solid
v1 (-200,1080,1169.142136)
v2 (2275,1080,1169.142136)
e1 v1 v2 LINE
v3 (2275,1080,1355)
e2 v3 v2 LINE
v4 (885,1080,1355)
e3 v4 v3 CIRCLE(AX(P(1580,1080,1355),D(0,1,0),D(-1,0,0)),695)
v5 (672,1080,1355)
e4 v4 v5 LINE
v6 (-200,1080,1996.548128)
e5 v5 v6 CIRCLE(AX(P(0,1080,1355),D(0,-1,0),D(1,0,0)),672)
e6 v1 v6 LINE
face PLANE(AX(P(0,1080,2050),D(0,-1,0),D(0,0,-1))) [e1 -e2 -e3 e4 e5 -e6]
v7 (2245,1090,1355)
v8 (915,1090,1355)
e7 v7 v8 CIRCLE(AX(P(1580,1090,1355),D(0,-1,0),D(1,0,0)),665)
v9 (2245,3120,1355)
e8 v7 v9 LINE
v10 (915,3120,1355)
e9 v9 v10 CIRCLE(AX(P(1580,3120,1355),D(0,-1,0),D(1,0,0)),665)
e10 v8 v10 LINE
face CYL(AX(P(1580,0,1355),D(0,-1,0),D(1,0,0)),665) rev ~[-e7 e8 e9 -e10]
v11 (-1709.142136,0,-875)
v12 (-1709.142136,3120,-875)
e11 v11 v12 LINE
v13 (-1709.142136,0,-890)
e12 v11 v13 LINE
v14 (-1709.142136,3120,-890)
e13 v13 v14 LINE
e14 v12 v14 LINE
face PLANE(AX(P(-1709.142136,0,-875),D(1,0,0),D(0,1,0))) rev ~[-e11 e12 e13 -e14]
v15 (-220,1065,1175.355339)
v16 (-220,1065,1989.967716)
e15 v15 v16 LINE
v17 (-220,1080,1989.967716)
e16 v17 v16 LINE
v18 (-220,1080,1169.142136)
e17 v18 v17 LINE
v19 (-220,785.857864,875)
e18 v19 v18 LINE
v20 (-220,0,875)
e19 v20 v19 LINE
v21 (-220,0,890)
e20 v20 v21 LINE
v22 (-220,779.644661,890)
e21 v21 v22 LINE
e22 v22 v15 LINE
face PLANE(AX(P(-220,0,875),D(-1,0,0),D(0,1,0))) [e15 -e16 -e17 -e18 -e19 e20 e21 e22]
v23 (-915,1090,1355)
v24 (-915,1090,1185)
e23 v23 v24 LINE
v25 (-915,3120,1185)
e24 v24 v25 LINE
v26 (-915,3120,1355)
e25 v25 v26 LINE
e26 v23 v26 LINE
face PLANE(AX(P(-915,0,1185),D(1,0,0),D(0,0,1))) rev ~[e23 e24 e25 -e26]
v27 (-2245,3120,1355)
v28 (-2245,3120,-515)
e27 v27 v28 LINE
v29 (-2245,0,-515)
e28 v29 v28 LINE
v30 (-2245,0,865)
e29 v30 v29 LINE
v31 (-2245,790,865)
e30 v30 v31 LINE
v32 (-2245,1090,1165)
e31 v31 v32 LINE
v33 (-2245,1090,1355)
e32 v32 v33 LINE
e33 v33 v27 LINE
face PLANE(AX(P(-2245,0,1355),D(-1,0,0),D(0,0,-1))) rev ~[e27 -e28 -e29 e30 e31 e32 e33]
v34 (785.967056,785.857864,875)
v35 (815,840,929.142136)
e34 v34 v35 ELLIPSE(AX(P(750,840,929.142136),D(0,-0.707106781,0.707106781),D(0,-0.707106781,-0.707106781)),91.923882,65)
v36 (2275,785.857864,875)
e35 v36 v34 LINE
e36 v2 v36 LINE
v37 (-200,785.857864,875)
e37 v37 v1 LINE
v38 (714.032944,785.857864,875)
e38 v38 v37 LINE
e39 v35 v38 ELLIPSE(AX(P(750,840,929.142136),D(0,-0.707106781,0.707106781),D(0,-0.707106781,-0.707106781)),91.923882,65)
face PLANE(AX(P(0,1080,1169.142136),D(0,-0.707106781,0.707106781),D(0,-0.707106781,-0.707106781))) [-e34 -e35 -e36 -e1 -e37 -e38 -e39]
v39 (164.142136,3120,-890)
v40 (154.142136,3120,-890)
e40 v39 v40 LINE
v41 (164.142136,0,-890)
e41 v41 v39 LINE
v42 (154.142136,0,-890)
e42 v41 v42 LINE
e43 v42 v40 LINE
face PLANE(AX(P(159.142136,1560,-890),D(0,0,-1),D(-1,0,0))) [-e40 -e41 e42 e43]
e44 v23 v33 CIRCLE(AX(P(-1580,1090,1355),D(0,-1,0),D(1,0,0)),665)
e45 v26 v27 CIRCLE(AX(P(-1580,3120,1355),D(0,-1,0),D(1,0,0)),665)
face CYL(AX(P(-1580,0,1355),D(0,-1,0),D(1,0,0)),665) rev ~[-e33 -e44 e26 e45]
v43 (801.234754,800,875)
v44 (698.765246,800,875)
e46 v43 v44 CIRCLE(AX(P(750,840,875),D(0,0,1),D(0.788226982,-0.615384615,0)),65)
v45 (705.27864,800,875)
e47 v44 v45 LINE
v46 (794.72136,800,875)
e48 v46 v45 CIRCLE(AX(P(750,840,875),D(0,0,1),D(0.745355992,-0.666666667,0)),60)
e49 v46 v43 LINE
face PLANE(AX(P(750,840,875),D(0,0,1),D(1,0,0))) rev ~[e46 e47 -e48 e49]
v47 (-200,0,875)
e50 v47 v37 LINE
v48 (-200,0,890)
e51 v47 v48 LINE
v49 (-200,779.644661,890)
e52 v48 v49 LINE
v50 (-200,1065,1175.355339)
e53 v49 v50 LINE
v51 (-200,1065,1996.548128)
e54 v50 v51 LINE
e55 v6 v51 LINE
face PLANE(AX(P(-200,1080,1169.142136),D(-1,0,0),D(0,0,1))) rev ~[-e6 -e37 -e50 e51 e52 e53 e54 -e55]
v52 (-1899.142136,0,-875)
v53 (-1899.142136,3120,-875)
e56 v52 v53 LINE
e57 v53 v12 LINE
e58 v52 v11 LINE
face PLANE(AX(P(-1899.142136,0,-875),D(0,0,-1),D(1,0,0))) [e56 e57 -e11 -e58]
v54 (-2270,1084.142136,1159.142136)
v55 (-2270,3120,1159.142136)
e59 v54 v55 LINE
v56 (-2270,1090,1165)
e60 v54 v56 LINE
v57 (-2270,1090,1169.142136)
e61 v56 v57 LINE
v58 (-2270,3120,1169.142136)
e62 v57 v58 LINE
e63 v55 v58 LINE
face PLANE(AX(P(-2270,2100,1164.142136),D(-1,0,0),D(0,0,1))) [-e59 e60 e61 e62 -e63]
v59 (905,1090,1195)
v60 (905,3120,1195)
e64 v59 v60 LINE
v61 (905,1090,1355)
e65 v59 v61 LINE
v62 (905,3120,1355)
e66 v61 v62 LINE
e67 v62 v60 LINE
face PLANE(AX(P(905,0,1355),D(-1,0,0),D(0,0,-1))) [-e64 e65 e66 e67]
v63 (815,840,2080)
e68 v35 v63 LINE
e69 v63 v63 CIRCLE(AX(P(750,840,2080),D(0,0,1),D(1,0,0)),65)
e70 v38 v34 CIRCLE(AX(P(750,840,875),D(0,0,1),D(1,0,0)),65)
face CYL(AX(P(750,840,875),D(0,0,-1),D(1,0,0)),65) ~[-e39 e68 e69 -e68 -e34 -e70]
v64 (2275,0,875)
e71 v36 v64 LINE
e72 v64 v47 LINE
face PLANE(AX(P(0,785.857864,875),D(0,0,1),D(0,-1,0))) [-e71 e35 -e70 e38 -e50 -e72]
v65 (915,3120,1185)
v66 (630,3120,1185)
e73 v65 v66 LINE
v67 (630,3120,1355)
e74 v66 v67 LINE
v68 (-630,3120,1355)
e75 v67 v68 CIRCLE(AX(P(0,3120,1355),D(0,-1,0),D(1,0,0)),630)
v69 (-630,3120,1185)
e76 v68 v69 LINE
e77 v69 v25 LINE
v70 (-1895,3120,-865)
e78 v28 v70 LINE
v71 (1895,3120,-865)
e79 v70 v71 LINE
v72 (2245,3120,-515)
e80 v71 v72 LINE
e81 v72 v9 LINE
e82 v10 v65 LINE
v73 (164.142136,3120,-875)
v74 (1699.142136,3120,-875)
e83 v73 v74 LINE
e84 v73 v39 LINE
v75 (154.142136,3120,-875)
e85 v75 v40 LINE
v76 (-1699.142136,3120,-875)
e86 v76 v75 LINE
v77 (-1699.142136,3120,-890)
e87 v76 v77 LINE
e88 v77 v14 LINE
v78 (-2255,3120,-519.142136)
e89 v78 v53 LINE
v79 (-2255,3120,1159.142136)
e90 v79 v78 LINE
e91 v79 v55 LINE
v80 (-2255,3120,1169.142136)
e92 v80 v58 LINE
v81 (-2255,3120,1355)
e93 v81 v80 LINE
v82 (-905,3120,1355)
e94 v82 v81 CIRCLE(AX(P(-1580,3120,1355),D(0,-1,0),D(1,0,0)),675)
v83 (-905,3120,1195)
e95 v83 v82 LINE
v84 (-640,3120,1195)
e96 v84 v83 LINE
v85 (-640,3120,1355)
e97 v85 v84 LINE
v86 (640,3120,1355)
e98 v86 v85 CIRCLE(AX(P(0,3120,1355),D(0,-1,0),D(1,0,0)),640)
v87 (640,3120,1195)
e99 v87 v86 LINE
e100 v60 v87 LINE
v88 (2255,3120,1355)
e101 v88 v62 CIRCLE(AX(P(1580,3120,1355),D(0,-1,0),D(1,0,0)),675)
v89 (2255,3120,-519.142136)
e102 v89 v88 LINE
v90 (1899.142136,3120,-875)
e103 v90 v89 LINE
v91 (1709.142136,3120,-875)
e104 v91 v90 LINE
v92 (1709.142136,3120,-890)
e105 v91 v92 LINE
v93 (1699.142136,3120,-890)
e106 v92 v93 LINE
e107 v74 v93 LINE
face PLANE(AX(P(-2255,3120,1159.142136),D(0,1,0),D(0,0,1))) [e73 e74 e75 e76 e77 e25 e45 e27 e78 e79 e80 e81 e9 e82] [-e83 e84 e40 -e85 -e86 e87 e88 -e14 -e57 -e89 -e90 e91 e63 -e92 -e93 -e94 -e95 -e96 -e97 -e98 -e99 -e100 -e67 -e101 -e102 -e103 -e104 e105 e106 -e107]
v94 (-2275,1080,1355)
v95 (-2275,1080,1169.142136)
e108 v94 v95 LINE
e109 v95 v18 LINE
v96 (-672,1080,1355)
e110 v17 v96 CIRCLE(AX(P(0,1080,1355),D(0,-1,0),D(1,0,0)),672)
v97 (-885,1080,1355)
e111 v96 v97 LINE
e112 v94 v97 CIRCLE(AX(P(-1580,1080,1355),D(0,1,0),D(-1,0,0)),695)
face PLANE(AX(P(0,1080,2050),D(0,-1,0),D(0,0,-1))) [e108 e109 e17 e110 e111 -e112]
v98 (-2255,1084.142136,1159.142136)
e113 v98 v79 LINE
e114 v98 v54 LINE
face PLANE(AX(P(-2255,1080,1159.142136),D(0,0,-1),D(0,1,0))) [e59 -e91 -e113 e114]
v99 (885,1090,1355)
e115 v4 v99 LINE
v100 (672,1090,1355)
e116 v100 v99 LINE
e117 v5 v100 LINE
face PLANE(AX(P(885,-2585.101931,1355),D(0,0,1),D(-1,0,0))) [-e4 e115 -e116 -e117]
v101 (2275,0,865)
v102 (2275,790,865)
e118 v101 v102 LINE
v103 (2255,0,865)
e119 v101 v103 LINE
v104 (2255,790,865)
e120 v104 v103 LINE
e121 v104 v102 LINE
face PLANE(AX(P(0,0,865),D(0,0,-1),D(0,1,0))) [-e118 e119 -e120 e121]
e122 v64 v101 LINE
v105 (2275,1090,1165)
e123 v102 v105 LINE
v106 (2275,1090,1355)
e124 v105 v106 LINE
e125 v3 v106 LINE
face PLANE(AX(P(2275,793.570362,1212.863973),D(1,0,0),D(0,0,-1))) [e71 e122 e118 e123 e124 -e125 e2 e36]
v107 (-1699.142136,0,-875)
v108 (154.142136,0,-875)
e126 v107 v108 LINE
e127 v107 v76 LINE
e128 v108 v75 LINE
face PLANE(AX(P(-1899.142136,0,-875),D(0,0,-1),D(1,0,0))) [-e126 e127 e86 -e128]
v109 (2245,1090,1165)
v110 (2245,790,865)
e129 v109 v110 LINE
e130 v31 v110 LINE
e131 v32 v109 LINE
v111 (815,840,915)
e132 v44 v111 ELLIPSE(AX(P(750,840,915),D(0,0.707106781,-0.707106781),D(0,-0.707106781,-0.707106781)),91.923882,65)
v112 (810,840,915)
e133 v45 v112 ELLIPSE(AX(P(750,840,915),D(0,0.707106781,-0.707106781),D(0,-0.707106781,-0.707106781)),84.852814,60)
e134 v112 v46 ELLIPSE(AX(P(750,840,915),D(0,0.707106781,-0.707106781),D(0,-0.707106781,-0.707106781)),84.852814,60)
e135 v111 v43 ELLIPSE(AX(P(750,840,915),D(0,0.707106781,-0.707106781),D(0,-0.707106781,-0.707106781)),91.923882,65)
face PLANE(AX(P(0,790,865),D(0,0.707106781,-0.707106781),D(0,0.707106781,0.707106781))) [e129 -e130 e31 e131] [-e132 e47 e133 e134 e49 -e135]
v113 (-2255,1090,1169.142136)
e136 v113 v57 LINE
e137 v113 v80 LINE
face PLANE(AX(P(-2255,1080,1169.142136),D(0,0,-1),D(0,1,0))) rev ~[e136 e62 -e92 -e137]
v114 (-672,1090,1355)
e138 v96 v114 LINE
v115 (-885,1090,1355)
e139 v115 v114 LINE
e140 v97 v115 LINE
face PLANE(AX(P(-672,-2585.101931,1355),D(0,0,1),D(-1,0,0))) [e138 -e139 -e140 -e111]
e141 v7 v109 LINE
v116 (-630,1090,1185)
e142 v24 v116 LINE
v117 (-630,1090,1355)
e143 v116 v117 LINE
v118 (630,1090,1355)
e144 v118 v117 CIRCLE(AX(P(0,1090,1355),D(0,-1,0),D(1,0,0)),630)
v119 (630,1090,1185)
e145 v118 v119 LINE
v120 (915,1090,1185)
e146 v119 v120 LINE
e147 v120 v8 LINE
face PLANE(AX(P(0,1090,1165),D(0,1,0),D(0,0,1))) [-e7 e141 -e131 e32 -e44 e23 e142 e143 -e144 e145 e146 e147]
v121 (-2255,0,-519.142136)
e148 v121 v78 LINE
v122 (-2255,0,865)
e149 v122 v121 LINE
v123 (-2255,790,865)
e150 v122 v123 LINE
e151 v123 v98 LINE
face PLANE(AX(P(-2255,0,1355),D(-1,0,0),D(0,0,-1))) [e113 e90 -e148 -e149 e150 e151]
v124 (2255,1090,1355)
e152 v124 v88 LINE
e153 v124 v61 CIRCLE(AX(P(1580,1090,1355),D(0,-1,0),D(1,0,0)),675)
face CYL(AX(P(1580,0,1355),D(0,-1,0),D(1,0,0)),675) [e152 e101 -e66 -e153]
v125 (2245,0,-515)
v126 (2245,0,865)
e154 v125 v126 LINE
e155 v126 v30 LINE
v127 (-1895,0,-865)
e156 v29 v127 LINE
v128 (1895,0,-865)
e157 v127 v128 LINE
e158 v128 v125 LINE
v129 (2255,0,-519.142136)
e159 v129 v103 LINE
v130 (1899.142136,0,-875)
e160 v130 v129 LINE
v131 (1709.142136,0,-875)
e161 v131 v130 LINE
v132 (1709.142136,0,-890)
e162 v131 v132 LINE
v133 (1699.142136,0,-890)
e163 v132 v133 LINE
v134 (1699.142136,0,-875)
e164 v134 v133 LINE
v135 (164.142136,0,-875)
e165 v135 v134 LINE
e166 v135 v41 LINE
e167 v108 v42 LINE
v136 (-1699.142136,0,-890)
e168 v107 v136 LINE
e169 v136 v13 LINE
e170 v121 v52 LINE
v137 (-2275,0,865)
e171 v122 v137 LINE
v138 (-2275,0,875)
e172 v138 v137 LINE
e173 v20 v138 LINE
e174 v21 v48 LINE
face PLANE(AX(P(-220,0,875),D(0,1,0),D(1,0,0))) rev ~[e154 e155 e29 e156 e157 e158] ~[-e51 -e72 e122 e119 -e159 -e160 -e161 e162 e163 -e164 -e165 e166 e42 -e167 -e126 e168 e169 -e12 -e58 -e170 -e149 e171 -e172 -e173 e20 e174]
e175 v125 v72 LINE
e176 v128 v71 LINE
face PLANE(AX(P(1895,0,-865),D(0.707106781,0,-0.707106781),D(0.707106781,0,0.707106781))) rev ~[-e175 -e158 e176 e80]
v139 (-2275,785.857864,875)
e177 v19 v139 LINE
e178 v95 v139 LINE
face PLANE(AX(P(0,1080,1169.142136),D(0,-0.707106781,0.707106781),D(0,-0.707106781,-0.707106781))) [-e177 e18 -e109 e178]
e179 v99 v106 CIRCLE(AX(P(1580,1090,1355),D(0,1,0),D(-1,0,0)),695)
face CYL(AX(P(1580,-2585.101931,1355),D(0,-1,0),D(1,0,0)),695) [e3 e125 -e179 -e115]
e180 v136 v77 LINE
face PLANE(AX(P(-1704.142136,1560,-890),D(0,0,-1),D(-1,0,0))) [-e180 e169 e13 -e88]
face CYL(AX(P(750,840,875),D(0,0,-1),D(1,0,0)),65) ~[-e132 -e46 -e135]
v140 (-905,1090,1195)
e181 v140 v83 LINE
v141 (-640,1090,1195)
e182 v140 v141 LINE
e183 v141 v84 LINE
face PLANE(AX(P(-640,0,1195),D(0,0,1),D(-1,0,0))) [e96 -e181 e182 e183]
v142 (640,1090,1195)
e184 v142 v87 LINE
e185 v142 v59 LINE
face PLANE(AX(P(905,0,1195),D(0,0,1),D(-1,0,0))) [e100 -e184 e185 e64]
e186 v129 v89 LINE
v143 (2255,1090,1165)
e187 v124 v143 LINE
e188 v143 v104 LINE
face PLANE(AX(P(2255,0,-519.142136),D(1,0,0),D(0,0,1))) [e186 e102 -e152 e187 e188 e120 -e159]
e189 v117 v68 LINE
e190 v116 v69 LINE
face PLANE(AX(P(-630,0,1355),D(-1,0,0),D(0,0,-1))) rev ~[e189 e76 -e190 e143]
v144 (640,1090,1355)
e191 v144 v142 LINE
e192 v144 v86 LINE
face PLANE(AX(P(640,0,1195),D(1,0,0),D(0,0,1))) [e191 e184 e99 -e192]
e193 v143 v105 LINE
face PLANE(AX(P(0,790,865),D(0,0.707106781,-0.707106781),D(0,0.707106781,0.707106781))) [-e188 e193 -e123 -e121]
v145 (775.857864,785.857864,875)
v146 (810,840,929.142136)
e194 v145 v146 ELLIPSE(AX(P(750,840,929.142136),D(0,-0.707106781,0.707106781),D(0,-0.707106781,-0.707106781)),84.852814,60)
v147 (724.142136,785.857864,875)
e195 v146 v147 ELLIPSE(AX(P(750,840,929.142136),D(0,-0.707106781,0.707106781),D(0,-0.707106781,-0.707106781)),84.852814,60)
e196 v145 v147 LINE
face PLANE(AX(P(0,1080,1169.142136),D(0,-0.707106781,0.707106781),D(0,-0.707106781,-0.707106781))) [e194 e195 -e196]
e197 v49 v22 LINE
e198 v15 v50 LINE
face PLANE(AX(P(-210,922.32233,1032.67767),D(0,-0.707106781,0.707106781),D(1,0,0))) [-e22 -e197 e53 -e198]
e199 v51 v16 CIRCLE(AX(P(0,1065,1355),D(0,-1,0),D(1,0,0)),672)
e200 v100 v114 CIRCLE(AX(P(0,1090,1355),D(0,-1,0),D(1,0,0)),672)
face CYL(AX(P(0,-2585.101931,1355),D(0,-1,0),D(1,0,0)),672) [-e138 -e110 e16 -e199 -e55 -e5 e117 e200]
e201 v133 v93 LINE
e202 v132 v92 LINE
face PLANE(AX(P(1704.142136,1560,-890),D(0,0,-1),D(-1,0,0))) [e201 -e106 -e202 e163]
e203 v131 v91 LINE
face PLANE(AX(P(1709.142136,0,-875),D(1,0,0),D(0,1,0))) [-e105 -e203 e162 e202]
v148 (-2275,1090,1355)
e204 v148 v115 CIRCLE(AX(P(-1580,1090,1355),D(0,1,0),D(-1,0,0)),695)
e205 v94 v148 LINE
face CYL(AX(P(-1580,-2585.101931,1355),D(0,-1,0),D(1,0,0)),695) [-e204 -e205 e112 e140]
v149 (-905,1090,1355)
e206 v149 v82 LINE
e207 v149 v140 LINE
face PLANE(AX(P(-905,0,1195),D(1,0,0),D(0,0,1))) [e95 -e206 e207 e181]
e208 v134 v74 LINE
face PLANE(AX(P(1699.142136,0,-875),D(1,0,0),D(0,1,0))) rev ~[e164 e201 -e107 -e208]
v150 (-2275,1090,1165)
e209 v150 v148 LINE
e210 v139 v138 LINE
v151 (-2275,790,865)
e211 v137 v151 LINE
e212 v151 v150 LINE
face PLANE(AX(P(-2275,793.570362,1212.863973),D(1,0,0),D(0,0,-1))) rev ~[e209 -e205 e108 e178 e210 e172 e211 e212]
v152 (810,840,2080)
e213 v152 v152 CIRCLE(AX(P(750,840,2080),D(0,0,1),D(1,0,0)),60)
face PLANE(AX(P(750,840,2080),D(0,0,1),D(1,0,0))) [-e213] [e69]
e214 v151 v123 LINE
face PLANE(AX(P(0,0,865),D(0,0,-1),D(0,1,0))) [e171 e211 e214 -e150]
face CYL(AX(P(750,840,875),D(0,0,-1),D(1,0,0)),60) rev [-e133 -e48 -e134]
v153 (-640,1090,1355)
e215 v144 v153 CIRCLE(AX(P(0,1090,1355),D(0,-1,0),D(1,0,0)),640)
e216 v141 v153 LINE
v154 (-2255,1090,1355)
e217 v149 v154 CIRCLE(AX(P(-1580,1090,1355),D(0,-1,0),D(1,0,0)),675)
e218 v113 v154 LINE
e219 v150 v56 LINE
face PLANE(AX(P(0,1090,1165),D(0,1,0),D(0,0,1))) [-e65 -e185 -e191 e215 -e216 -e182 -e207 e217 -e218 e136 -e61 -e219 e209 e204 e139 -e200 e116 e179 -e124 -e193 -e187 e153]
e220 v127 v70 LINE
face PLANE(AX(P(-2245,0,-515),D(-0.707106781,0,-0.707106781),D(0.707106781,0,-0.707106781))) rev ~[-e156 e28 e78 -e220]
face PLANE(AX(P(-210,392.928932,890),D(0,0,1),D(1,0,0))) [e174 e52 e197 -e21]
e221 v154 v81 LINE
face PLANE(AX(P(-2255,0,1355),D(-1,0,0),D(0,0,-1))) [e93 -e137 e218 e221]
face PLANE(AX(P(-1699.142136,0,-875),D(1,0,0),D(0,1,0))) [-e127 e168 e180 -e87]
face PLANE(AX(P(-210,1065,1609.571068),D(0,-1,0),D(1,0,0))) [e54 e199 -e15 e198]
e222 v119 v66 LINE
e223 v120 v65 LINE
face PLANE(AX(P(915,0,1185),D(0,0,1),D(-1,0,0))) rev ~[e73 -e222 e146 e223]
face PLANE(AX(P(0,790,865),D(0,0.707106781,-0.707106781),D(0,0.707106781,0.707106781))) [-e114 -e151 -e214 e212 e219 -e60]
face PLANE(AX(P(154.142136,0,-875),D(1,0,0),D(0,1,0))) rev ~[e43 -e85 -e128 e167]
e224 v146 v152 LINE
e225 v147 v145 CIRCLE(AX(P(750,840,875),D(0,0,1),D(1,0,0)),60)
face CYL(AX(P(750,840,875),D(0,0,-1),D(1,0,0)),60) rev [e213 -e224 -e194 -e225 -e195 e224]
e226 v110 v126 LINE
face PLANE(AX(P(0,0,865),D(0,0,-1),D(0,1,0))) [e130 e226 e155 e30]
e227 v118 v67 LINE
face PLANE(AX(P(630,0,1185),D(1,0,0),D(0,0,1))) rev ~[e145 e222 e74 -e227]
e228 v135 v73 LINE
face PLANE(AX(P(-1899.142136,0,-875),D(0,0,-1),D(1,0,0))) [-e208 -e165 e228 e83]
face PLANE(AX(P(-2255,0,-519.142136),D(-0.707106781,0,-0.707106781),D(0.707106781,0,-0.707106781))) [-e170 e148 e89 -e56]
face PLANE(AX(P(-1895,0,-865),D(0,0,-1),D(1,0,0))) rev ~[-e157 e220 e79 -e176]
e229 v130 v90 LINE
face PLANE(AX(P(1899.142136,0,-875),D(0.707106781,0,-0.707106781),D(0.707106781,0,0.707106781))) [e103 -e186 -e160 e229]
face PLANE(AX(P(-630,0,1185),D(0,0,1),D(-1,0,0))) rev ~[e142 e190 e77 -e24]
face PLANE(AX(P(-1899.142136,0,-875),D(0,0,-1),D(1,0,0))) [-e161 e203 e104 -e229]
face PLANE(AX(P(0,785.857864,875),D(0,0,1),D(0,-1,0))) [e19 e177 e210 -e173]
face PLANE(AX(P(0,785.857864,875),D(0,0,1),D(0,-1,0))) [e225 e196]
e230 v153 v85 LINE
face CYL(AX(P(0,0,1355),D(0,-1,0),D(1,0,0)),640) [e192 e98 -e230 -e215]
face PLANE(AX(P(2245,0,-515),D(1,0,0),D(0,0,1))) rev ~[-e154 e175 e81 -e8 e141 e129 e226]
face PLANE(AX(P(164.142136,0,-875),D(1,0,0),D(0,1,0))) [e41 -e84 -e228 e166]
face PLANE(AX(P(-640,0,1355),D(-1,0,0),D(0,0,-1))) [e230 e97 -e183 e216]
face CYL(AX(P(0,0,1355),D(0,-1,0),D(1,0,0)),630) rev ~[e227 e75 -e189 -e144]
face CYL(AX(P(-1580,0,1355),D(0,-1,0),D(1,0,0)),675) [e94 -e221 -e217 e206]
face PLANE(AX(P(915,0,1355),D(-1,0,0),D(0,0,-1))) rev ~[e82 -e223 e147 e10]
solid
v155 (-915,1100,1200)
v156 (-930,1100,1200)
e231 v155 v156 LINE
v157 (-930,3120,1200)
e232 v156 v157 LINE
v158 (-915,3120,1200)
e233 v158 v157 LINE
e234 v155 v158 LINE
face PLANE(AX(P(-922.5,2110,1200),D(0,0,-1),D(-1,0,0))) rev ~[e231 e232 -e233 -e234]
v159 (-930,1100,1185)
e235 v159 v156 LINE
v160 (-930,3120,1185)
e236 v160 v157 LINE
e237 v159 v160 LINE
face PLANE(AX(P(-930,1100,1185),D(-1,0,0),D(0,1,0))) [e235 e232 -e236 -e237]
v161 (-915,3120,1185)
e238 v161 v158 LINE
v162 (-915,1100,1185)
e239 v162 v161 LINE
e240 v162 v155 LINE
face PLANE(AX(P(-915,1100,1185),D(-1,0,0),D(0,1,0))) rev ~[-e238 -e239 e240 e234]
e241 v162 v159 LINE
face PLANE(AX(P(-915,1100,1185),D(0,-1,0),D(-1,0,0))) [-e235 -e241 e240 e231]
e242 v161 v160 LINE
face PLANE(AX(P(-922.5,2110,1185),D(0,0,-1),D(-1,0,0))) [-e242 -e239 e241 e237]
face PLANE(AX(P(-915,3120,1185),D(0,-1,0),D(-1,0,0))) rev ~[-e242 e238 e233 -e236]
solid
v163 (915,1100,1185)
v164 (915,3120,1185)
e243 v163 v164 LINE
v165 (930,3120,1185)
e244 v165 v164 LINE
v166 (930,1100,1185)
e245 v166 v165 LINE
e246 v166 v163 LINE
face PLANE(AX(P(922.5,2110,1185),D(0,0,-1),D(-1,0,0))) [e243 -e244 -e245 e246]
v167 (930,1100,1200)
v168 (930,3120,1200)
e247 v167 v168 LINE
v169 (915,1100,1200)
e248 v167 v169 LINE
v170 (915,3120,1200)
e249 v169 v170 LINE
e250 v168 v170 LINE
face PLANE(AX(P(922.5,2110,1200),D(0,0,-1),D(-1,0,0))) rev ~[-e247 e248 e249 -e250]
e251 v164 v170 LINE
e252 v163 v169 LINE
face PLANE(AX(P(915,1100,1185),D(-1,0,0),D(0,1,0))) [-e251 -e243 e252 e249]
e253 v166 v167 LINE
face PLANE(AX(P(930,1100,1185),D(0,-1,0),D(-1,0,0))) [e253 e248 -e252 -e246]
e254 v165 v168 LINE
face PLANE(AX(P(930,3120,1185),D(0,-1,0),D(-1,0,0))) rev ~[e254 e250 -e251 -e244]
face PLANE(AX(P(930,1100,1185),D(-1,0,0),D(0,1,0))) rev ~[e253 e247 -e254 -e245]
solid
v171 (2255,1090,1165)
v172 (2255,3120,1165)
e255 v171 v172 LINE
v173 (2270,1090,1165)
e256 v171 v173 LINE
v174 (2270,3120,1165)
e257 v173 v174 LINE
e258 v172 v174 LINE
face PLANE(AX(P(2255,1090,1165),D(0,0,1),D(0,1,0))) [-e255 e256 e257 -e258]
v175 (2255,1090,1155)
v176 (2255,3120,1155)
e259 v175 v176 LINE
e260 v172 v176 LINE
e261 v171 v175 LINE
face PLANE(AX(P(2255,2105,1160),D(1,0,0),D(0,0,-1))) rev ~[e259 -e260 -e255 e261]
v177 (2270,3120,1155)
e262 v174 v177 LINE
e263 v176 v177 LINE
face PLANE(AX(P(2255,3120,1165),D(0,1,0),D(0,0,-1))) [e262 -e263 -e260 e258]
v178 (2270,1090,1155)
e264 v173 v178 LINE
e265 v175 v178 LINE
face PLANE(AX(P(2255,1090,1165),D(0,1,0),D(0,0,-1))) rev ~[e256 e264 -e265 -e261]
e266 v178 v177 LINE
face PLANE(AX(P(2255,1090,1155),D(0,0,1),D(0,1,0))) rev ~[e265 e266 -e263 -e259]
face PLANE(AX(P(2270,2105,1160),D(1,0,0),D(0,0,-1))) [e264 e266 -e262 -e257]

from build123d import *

# Parameters (mm, degrees)
EXTRUDE_THIN1_DEPTH     = 3120
CUT_EXTRUDE1_DEPTH      = 4353.048368297
CUT_EXTRUDE1_DEPTH_BACK = 4353.048368297
BOSS_EXTRUDE2_DEPTH     = 2275
SKETCH6_W               = 20
SKETCH6_H               = 415.979797465
BOSS_EXTRUDE4_DEPTH     = 15
SKETCH5_W               = 20
SKETCH5_H               = 785.857864376
BOSS_EXTRUDE5_DEPTH     = 15
SKETCH7_W               = 20
SKETCH7_H               = 880.857864376
BOSS_EXTRUDE6_DEPTH     = 15
SKETCH8_W               = 15
SKETCH8_H               = 2020
BOSS_EXTRUDE7_DEPTH     = 15
SKETCH9_W               = 15
SKETCH9_H               = 2020
BOSS_EXTRUDE8_DEPTH     = 15
SKETCH10_W              = 10
SKETCH10_H              = 2030
BOSS_EXTRUDE15_DEPTH    = 15
SKETCH11_W              = 10
SKETCH11_H              = 2040
BOSS_EXTRUDE16_DEPTH    = 15
SKETCH12_W              = 10
SKETCH12_H              = 3120
BOSS_EXTRUDE17_DEPTH    = 15
CUT_EXTRUDE2_DEPTH      = 3675.101931085
CUT_EXTRUDE2_DEPTH_BACK = 3675.101931085
SKETCH14_R              = 65
SKETCH14_R_2            = 60
EXTRUDE_THIN2_DEPTH     = 1205


with BuildPart() as part:
    # Sketch1 → Extrude-Thin1 (new body)
    with BuildSketch(Plane(origin=(0, 0, 0), x_dir=(1, 0, 0), z_dir=(0, 1, 0))):
        with BuildLine():
            Line((905, -1355), (905, -1195))
            Line((905, -1195), (640, -1195))
            Line((640, -1195), (640, -1355))
            ThreePointArc((640, -1355), (0, -1995), (-640, -1355))
            Line((-640, -1355), (-640, -1195))
            Line((-640, -1195), (-905, -1195))
            Line((-905, -1195), (-905, -1355))
            ThreePointArc((-905, -1355), (-1580, -2030), (-2255, -1355))
            Line((-2255, -1355), (-2255, 519.142135624))
            Line((-2255, 519.142135624), (-1899.142135624, 875))
            Line((-1899.142135624, 875), (1899.142135624, 875))
            Line((1899.142135624, 875), (2255, 519.142135624))
            Line((2255, 519.142135624), (2255, -1355))
            ThreePointArc((2255, -1355), (1580, -2030), (905, -1355))
        make_face()
        with BuildLine():
            Line((915, -1355), (915, -1185))
            Line((915, -1185), (630, -1185))
            Line((630, -1185), (630, -1355))
            ThreePointArc((630, -1355), (0, -1985), (-630, -1355))
            Line((-630, -1355), (-630, -1185))
            Line((-630, -1185), (-915, -1185))
            Line((-915, -1185), (-915, -1355))
            ThreePointArc((-915, -1355), (-1580, -2020), (-2245, -1355))
            Line((-2245, -1355), (-2245, 515))
            Line((-2245, 515), (-1895, 865))
            Line((-1895, 865), (1895, 865))
            Line((1895, 865), (2245, 515))
            Line((2245, 515), (2245, -1355))
            ThreePointArc((2245, -1355), (1580, -2020), (915, -1355))
        make_face(mode=Mode.SUBTRACT)
    extrude(amount=EXTRUDE_THIN1_DEPTH)

    # Sketch2 → Cut-Extrude1 (cut, two sides: drawn at the far end of the back side and taken through both)
    with BuildSketch(Plane(origin=(0, 0, 0), x_dir=(0, 0, -1), z_dir=(1, 0, 0)).offset(-CUT_EXTRUDE1_DEPTH_BACK)):
        Polygon((-865, 0), (-865, 790), (-1165, 1090), (-2050, 1090), (-2101.676974478, 1090), (-2101.676974478, -15.106412635), (-865, -15.106412635), align=None)
    extrude(amount=CUT_EXTRUDE1_DEPTH + CUT_EXTRUDE1_DEPTH_BACK, mode=Mode.SUBTRACT)

    # Sketch3 → Boss-Extrude2 (add, symmetric)
    with BuildSketch(Plane(origin=(0, 0, 0), x_dir=(0, 0, -1), z_dir=(1, 0, 0))):
        Polygon((-865, 0), (-865, 790), (-1165, 1090), (-2050, 1090), (-2050, 1080), (-1169.142135624, 1080), (-875, 785.857864376), (-875, 0), align=None)
    extrude(amount=BOSS_EXTRUDE2_DEPTH, both=True)

    # Sketch6 → Boss-Extrude4 (add)
    with BuildSketch(Plane(origin=(0, -44.571067812, 44.571067812), x_dir=(1, 0, 0), z_dir=(0, -0.7071067811865475, 0.7071067811865477))):
        with Locations((-210, 1382.39375722)):
            Rectangle(SKETCH6_W, SKETCH6_H)
    extrude(amount=BOSS_EXTRUDE4_DEPTH)

    # Sketch5 → Boss-Extrude5 (add)
    with BuildSketch(Plane.XY.offset(875)):
        with Locations((-210, 392.928932188)):
            Rectangle(SKETCH5_W, SKETCH5_H)
    extrude(amount=BOSS_EXTRUDE5_DEPTH)

    # Sketch7 → Boss-Extrude6 (add)
    with BuildSketch(Plane.XZ.offset(-1080)):
        with Locations((-210, 1609.571067812)):
            Rectangle(SKETCH7_W, SKETCH7_H)
    extrude(amount=BOSS_EXTRUDE6_DEPTH)

    # Sketch11 → Boss-Extrude16 (add)
    with BuildSketch(Plane.ZY.offset(2255)):
        with Locations((1164.142135624, 2100)):
            Rectangle(SKETCH11_W, SKETCH11_H)
    extrude(amount=BOSS_EXTRUDE16_DEPTH)

    # Sketch12 → Boss-Extrude17 (add)
    with BuildSketch(Plane(origin=(0, 0, -875), x_dir=(-1, 0, 0), z_dir=(0, 0, -1))):
        with Locations((-1704.142135624, 1560)):
            Rectangle(SKETCH12_W, SKETCH12_H)
        with Locations((1704.142135624, 1560)):
            Rectangle(SKETCH12_W, SKETCH12_H)
        with Locations((-159.142135624, 1560)):
            Rectangle(SKETCH12_W, SKETCH12_H)
    extrude(amount=BOSS_EXTRUDE17_DEPTH)

    # Sketch13 → Cut-Extrude2 (cut, two sides: drawn at the far end of the back side and taken through both)
    with BuildSketch(Plane(origin=(0, 1090, 0), x_dir=(1, 0, 0), z_dir=(0, 1, 0)).offset(-CUT_EXTRUDE2_DEPTH_BACK)):
        with BuildLine():
            Line((-2275, -1355), (-2439.252961853, -1355))
            Line((-2439.252961853, -1355), (-2439.252961853, -2187.959139027))
            Line((-2439.252961853, -2187.959139027), (2586.364187852, -2187.959139027))
            Line((2586.364187852, -2187.959139027), (2586.364187852, -1355))
            Line((2586.364187852, -1355), (2275, -1355))
            ThreePointArc((2275, -1355), (1580, -2050), (885, -1355))
            Line((885, -1355), (672, -1355))
            ThreePointArc((672, -1355), (0, -2027), (-672, -1355))
            Line((-672, -1355), (-885, -1355))
            ThreePointArc((-885, -1355), (-1580, -2050), (-2275, -1355))
        make_face()
    extrude(amount=CUT_EXTRUDE2_DEPTH + CUT_EXTRUDE2_DEPTH_BACK, mode=Mode.SUBTRACT)

    # Sketch14 → Extrude-Thin2 (add)
    with BuildSketch(Plane.XY.offset(875)):
        with Locations((750, 840)):
            Circle(SKETCH14_R)
        with Locations((750, 840)):
            Circle(SKETCH14_R_2, mode=Mode.SUBTRACT)
    extrude(amount=EXTRUDE_THIN2_DEPTH)


with BuildPart() as body_2:
    # Sketch8 → Boss-Extrude7 (new body)
    with BuildSketch(Plane(origin=(0, 0, 1185), x_dir=(-1, 0, 0), z_dir=(0, 0, -1))):
        with Locations((922.5, 2110)):
            Rectangle(SKETCH8_W, SKETCH8_H)
    extrude(amount=-BOSS_EXTRUDE7_DEPTH)


with BuildPart() as body_3:
    # Sketch9 → Boss-Extrude8 (new body)
    with BuildSketch(Plane(origin=(0, 0, 1185), x_dir=(-1, 0, 0), z_dir=(0, 0, -1))):
        with Locations((-922.5, 2110)):
            Rectangle(SKETCH9_W, SKETCH9_H)
    extrude(amount=-BOSS_EXTRUDE8_DEPTH)


with BuildPart() as body_4:
    # Sketch10 → Boss-Extrude15 (new body)
    with BuildSketch(Plane(origin=(2255, 0, 0), x_dir=(0, 0, -1), z_dir=(1, 0, 0))):
        with Locations((-1160, 2105)):
            Rectangle(SKETCH10_W, SKETCH10_H)
    extrude(amount=BOSS_EXTRUDE15_DEPTH)


solid = Compound([part.part, body_2.part, body_3.part, body_4.part])
